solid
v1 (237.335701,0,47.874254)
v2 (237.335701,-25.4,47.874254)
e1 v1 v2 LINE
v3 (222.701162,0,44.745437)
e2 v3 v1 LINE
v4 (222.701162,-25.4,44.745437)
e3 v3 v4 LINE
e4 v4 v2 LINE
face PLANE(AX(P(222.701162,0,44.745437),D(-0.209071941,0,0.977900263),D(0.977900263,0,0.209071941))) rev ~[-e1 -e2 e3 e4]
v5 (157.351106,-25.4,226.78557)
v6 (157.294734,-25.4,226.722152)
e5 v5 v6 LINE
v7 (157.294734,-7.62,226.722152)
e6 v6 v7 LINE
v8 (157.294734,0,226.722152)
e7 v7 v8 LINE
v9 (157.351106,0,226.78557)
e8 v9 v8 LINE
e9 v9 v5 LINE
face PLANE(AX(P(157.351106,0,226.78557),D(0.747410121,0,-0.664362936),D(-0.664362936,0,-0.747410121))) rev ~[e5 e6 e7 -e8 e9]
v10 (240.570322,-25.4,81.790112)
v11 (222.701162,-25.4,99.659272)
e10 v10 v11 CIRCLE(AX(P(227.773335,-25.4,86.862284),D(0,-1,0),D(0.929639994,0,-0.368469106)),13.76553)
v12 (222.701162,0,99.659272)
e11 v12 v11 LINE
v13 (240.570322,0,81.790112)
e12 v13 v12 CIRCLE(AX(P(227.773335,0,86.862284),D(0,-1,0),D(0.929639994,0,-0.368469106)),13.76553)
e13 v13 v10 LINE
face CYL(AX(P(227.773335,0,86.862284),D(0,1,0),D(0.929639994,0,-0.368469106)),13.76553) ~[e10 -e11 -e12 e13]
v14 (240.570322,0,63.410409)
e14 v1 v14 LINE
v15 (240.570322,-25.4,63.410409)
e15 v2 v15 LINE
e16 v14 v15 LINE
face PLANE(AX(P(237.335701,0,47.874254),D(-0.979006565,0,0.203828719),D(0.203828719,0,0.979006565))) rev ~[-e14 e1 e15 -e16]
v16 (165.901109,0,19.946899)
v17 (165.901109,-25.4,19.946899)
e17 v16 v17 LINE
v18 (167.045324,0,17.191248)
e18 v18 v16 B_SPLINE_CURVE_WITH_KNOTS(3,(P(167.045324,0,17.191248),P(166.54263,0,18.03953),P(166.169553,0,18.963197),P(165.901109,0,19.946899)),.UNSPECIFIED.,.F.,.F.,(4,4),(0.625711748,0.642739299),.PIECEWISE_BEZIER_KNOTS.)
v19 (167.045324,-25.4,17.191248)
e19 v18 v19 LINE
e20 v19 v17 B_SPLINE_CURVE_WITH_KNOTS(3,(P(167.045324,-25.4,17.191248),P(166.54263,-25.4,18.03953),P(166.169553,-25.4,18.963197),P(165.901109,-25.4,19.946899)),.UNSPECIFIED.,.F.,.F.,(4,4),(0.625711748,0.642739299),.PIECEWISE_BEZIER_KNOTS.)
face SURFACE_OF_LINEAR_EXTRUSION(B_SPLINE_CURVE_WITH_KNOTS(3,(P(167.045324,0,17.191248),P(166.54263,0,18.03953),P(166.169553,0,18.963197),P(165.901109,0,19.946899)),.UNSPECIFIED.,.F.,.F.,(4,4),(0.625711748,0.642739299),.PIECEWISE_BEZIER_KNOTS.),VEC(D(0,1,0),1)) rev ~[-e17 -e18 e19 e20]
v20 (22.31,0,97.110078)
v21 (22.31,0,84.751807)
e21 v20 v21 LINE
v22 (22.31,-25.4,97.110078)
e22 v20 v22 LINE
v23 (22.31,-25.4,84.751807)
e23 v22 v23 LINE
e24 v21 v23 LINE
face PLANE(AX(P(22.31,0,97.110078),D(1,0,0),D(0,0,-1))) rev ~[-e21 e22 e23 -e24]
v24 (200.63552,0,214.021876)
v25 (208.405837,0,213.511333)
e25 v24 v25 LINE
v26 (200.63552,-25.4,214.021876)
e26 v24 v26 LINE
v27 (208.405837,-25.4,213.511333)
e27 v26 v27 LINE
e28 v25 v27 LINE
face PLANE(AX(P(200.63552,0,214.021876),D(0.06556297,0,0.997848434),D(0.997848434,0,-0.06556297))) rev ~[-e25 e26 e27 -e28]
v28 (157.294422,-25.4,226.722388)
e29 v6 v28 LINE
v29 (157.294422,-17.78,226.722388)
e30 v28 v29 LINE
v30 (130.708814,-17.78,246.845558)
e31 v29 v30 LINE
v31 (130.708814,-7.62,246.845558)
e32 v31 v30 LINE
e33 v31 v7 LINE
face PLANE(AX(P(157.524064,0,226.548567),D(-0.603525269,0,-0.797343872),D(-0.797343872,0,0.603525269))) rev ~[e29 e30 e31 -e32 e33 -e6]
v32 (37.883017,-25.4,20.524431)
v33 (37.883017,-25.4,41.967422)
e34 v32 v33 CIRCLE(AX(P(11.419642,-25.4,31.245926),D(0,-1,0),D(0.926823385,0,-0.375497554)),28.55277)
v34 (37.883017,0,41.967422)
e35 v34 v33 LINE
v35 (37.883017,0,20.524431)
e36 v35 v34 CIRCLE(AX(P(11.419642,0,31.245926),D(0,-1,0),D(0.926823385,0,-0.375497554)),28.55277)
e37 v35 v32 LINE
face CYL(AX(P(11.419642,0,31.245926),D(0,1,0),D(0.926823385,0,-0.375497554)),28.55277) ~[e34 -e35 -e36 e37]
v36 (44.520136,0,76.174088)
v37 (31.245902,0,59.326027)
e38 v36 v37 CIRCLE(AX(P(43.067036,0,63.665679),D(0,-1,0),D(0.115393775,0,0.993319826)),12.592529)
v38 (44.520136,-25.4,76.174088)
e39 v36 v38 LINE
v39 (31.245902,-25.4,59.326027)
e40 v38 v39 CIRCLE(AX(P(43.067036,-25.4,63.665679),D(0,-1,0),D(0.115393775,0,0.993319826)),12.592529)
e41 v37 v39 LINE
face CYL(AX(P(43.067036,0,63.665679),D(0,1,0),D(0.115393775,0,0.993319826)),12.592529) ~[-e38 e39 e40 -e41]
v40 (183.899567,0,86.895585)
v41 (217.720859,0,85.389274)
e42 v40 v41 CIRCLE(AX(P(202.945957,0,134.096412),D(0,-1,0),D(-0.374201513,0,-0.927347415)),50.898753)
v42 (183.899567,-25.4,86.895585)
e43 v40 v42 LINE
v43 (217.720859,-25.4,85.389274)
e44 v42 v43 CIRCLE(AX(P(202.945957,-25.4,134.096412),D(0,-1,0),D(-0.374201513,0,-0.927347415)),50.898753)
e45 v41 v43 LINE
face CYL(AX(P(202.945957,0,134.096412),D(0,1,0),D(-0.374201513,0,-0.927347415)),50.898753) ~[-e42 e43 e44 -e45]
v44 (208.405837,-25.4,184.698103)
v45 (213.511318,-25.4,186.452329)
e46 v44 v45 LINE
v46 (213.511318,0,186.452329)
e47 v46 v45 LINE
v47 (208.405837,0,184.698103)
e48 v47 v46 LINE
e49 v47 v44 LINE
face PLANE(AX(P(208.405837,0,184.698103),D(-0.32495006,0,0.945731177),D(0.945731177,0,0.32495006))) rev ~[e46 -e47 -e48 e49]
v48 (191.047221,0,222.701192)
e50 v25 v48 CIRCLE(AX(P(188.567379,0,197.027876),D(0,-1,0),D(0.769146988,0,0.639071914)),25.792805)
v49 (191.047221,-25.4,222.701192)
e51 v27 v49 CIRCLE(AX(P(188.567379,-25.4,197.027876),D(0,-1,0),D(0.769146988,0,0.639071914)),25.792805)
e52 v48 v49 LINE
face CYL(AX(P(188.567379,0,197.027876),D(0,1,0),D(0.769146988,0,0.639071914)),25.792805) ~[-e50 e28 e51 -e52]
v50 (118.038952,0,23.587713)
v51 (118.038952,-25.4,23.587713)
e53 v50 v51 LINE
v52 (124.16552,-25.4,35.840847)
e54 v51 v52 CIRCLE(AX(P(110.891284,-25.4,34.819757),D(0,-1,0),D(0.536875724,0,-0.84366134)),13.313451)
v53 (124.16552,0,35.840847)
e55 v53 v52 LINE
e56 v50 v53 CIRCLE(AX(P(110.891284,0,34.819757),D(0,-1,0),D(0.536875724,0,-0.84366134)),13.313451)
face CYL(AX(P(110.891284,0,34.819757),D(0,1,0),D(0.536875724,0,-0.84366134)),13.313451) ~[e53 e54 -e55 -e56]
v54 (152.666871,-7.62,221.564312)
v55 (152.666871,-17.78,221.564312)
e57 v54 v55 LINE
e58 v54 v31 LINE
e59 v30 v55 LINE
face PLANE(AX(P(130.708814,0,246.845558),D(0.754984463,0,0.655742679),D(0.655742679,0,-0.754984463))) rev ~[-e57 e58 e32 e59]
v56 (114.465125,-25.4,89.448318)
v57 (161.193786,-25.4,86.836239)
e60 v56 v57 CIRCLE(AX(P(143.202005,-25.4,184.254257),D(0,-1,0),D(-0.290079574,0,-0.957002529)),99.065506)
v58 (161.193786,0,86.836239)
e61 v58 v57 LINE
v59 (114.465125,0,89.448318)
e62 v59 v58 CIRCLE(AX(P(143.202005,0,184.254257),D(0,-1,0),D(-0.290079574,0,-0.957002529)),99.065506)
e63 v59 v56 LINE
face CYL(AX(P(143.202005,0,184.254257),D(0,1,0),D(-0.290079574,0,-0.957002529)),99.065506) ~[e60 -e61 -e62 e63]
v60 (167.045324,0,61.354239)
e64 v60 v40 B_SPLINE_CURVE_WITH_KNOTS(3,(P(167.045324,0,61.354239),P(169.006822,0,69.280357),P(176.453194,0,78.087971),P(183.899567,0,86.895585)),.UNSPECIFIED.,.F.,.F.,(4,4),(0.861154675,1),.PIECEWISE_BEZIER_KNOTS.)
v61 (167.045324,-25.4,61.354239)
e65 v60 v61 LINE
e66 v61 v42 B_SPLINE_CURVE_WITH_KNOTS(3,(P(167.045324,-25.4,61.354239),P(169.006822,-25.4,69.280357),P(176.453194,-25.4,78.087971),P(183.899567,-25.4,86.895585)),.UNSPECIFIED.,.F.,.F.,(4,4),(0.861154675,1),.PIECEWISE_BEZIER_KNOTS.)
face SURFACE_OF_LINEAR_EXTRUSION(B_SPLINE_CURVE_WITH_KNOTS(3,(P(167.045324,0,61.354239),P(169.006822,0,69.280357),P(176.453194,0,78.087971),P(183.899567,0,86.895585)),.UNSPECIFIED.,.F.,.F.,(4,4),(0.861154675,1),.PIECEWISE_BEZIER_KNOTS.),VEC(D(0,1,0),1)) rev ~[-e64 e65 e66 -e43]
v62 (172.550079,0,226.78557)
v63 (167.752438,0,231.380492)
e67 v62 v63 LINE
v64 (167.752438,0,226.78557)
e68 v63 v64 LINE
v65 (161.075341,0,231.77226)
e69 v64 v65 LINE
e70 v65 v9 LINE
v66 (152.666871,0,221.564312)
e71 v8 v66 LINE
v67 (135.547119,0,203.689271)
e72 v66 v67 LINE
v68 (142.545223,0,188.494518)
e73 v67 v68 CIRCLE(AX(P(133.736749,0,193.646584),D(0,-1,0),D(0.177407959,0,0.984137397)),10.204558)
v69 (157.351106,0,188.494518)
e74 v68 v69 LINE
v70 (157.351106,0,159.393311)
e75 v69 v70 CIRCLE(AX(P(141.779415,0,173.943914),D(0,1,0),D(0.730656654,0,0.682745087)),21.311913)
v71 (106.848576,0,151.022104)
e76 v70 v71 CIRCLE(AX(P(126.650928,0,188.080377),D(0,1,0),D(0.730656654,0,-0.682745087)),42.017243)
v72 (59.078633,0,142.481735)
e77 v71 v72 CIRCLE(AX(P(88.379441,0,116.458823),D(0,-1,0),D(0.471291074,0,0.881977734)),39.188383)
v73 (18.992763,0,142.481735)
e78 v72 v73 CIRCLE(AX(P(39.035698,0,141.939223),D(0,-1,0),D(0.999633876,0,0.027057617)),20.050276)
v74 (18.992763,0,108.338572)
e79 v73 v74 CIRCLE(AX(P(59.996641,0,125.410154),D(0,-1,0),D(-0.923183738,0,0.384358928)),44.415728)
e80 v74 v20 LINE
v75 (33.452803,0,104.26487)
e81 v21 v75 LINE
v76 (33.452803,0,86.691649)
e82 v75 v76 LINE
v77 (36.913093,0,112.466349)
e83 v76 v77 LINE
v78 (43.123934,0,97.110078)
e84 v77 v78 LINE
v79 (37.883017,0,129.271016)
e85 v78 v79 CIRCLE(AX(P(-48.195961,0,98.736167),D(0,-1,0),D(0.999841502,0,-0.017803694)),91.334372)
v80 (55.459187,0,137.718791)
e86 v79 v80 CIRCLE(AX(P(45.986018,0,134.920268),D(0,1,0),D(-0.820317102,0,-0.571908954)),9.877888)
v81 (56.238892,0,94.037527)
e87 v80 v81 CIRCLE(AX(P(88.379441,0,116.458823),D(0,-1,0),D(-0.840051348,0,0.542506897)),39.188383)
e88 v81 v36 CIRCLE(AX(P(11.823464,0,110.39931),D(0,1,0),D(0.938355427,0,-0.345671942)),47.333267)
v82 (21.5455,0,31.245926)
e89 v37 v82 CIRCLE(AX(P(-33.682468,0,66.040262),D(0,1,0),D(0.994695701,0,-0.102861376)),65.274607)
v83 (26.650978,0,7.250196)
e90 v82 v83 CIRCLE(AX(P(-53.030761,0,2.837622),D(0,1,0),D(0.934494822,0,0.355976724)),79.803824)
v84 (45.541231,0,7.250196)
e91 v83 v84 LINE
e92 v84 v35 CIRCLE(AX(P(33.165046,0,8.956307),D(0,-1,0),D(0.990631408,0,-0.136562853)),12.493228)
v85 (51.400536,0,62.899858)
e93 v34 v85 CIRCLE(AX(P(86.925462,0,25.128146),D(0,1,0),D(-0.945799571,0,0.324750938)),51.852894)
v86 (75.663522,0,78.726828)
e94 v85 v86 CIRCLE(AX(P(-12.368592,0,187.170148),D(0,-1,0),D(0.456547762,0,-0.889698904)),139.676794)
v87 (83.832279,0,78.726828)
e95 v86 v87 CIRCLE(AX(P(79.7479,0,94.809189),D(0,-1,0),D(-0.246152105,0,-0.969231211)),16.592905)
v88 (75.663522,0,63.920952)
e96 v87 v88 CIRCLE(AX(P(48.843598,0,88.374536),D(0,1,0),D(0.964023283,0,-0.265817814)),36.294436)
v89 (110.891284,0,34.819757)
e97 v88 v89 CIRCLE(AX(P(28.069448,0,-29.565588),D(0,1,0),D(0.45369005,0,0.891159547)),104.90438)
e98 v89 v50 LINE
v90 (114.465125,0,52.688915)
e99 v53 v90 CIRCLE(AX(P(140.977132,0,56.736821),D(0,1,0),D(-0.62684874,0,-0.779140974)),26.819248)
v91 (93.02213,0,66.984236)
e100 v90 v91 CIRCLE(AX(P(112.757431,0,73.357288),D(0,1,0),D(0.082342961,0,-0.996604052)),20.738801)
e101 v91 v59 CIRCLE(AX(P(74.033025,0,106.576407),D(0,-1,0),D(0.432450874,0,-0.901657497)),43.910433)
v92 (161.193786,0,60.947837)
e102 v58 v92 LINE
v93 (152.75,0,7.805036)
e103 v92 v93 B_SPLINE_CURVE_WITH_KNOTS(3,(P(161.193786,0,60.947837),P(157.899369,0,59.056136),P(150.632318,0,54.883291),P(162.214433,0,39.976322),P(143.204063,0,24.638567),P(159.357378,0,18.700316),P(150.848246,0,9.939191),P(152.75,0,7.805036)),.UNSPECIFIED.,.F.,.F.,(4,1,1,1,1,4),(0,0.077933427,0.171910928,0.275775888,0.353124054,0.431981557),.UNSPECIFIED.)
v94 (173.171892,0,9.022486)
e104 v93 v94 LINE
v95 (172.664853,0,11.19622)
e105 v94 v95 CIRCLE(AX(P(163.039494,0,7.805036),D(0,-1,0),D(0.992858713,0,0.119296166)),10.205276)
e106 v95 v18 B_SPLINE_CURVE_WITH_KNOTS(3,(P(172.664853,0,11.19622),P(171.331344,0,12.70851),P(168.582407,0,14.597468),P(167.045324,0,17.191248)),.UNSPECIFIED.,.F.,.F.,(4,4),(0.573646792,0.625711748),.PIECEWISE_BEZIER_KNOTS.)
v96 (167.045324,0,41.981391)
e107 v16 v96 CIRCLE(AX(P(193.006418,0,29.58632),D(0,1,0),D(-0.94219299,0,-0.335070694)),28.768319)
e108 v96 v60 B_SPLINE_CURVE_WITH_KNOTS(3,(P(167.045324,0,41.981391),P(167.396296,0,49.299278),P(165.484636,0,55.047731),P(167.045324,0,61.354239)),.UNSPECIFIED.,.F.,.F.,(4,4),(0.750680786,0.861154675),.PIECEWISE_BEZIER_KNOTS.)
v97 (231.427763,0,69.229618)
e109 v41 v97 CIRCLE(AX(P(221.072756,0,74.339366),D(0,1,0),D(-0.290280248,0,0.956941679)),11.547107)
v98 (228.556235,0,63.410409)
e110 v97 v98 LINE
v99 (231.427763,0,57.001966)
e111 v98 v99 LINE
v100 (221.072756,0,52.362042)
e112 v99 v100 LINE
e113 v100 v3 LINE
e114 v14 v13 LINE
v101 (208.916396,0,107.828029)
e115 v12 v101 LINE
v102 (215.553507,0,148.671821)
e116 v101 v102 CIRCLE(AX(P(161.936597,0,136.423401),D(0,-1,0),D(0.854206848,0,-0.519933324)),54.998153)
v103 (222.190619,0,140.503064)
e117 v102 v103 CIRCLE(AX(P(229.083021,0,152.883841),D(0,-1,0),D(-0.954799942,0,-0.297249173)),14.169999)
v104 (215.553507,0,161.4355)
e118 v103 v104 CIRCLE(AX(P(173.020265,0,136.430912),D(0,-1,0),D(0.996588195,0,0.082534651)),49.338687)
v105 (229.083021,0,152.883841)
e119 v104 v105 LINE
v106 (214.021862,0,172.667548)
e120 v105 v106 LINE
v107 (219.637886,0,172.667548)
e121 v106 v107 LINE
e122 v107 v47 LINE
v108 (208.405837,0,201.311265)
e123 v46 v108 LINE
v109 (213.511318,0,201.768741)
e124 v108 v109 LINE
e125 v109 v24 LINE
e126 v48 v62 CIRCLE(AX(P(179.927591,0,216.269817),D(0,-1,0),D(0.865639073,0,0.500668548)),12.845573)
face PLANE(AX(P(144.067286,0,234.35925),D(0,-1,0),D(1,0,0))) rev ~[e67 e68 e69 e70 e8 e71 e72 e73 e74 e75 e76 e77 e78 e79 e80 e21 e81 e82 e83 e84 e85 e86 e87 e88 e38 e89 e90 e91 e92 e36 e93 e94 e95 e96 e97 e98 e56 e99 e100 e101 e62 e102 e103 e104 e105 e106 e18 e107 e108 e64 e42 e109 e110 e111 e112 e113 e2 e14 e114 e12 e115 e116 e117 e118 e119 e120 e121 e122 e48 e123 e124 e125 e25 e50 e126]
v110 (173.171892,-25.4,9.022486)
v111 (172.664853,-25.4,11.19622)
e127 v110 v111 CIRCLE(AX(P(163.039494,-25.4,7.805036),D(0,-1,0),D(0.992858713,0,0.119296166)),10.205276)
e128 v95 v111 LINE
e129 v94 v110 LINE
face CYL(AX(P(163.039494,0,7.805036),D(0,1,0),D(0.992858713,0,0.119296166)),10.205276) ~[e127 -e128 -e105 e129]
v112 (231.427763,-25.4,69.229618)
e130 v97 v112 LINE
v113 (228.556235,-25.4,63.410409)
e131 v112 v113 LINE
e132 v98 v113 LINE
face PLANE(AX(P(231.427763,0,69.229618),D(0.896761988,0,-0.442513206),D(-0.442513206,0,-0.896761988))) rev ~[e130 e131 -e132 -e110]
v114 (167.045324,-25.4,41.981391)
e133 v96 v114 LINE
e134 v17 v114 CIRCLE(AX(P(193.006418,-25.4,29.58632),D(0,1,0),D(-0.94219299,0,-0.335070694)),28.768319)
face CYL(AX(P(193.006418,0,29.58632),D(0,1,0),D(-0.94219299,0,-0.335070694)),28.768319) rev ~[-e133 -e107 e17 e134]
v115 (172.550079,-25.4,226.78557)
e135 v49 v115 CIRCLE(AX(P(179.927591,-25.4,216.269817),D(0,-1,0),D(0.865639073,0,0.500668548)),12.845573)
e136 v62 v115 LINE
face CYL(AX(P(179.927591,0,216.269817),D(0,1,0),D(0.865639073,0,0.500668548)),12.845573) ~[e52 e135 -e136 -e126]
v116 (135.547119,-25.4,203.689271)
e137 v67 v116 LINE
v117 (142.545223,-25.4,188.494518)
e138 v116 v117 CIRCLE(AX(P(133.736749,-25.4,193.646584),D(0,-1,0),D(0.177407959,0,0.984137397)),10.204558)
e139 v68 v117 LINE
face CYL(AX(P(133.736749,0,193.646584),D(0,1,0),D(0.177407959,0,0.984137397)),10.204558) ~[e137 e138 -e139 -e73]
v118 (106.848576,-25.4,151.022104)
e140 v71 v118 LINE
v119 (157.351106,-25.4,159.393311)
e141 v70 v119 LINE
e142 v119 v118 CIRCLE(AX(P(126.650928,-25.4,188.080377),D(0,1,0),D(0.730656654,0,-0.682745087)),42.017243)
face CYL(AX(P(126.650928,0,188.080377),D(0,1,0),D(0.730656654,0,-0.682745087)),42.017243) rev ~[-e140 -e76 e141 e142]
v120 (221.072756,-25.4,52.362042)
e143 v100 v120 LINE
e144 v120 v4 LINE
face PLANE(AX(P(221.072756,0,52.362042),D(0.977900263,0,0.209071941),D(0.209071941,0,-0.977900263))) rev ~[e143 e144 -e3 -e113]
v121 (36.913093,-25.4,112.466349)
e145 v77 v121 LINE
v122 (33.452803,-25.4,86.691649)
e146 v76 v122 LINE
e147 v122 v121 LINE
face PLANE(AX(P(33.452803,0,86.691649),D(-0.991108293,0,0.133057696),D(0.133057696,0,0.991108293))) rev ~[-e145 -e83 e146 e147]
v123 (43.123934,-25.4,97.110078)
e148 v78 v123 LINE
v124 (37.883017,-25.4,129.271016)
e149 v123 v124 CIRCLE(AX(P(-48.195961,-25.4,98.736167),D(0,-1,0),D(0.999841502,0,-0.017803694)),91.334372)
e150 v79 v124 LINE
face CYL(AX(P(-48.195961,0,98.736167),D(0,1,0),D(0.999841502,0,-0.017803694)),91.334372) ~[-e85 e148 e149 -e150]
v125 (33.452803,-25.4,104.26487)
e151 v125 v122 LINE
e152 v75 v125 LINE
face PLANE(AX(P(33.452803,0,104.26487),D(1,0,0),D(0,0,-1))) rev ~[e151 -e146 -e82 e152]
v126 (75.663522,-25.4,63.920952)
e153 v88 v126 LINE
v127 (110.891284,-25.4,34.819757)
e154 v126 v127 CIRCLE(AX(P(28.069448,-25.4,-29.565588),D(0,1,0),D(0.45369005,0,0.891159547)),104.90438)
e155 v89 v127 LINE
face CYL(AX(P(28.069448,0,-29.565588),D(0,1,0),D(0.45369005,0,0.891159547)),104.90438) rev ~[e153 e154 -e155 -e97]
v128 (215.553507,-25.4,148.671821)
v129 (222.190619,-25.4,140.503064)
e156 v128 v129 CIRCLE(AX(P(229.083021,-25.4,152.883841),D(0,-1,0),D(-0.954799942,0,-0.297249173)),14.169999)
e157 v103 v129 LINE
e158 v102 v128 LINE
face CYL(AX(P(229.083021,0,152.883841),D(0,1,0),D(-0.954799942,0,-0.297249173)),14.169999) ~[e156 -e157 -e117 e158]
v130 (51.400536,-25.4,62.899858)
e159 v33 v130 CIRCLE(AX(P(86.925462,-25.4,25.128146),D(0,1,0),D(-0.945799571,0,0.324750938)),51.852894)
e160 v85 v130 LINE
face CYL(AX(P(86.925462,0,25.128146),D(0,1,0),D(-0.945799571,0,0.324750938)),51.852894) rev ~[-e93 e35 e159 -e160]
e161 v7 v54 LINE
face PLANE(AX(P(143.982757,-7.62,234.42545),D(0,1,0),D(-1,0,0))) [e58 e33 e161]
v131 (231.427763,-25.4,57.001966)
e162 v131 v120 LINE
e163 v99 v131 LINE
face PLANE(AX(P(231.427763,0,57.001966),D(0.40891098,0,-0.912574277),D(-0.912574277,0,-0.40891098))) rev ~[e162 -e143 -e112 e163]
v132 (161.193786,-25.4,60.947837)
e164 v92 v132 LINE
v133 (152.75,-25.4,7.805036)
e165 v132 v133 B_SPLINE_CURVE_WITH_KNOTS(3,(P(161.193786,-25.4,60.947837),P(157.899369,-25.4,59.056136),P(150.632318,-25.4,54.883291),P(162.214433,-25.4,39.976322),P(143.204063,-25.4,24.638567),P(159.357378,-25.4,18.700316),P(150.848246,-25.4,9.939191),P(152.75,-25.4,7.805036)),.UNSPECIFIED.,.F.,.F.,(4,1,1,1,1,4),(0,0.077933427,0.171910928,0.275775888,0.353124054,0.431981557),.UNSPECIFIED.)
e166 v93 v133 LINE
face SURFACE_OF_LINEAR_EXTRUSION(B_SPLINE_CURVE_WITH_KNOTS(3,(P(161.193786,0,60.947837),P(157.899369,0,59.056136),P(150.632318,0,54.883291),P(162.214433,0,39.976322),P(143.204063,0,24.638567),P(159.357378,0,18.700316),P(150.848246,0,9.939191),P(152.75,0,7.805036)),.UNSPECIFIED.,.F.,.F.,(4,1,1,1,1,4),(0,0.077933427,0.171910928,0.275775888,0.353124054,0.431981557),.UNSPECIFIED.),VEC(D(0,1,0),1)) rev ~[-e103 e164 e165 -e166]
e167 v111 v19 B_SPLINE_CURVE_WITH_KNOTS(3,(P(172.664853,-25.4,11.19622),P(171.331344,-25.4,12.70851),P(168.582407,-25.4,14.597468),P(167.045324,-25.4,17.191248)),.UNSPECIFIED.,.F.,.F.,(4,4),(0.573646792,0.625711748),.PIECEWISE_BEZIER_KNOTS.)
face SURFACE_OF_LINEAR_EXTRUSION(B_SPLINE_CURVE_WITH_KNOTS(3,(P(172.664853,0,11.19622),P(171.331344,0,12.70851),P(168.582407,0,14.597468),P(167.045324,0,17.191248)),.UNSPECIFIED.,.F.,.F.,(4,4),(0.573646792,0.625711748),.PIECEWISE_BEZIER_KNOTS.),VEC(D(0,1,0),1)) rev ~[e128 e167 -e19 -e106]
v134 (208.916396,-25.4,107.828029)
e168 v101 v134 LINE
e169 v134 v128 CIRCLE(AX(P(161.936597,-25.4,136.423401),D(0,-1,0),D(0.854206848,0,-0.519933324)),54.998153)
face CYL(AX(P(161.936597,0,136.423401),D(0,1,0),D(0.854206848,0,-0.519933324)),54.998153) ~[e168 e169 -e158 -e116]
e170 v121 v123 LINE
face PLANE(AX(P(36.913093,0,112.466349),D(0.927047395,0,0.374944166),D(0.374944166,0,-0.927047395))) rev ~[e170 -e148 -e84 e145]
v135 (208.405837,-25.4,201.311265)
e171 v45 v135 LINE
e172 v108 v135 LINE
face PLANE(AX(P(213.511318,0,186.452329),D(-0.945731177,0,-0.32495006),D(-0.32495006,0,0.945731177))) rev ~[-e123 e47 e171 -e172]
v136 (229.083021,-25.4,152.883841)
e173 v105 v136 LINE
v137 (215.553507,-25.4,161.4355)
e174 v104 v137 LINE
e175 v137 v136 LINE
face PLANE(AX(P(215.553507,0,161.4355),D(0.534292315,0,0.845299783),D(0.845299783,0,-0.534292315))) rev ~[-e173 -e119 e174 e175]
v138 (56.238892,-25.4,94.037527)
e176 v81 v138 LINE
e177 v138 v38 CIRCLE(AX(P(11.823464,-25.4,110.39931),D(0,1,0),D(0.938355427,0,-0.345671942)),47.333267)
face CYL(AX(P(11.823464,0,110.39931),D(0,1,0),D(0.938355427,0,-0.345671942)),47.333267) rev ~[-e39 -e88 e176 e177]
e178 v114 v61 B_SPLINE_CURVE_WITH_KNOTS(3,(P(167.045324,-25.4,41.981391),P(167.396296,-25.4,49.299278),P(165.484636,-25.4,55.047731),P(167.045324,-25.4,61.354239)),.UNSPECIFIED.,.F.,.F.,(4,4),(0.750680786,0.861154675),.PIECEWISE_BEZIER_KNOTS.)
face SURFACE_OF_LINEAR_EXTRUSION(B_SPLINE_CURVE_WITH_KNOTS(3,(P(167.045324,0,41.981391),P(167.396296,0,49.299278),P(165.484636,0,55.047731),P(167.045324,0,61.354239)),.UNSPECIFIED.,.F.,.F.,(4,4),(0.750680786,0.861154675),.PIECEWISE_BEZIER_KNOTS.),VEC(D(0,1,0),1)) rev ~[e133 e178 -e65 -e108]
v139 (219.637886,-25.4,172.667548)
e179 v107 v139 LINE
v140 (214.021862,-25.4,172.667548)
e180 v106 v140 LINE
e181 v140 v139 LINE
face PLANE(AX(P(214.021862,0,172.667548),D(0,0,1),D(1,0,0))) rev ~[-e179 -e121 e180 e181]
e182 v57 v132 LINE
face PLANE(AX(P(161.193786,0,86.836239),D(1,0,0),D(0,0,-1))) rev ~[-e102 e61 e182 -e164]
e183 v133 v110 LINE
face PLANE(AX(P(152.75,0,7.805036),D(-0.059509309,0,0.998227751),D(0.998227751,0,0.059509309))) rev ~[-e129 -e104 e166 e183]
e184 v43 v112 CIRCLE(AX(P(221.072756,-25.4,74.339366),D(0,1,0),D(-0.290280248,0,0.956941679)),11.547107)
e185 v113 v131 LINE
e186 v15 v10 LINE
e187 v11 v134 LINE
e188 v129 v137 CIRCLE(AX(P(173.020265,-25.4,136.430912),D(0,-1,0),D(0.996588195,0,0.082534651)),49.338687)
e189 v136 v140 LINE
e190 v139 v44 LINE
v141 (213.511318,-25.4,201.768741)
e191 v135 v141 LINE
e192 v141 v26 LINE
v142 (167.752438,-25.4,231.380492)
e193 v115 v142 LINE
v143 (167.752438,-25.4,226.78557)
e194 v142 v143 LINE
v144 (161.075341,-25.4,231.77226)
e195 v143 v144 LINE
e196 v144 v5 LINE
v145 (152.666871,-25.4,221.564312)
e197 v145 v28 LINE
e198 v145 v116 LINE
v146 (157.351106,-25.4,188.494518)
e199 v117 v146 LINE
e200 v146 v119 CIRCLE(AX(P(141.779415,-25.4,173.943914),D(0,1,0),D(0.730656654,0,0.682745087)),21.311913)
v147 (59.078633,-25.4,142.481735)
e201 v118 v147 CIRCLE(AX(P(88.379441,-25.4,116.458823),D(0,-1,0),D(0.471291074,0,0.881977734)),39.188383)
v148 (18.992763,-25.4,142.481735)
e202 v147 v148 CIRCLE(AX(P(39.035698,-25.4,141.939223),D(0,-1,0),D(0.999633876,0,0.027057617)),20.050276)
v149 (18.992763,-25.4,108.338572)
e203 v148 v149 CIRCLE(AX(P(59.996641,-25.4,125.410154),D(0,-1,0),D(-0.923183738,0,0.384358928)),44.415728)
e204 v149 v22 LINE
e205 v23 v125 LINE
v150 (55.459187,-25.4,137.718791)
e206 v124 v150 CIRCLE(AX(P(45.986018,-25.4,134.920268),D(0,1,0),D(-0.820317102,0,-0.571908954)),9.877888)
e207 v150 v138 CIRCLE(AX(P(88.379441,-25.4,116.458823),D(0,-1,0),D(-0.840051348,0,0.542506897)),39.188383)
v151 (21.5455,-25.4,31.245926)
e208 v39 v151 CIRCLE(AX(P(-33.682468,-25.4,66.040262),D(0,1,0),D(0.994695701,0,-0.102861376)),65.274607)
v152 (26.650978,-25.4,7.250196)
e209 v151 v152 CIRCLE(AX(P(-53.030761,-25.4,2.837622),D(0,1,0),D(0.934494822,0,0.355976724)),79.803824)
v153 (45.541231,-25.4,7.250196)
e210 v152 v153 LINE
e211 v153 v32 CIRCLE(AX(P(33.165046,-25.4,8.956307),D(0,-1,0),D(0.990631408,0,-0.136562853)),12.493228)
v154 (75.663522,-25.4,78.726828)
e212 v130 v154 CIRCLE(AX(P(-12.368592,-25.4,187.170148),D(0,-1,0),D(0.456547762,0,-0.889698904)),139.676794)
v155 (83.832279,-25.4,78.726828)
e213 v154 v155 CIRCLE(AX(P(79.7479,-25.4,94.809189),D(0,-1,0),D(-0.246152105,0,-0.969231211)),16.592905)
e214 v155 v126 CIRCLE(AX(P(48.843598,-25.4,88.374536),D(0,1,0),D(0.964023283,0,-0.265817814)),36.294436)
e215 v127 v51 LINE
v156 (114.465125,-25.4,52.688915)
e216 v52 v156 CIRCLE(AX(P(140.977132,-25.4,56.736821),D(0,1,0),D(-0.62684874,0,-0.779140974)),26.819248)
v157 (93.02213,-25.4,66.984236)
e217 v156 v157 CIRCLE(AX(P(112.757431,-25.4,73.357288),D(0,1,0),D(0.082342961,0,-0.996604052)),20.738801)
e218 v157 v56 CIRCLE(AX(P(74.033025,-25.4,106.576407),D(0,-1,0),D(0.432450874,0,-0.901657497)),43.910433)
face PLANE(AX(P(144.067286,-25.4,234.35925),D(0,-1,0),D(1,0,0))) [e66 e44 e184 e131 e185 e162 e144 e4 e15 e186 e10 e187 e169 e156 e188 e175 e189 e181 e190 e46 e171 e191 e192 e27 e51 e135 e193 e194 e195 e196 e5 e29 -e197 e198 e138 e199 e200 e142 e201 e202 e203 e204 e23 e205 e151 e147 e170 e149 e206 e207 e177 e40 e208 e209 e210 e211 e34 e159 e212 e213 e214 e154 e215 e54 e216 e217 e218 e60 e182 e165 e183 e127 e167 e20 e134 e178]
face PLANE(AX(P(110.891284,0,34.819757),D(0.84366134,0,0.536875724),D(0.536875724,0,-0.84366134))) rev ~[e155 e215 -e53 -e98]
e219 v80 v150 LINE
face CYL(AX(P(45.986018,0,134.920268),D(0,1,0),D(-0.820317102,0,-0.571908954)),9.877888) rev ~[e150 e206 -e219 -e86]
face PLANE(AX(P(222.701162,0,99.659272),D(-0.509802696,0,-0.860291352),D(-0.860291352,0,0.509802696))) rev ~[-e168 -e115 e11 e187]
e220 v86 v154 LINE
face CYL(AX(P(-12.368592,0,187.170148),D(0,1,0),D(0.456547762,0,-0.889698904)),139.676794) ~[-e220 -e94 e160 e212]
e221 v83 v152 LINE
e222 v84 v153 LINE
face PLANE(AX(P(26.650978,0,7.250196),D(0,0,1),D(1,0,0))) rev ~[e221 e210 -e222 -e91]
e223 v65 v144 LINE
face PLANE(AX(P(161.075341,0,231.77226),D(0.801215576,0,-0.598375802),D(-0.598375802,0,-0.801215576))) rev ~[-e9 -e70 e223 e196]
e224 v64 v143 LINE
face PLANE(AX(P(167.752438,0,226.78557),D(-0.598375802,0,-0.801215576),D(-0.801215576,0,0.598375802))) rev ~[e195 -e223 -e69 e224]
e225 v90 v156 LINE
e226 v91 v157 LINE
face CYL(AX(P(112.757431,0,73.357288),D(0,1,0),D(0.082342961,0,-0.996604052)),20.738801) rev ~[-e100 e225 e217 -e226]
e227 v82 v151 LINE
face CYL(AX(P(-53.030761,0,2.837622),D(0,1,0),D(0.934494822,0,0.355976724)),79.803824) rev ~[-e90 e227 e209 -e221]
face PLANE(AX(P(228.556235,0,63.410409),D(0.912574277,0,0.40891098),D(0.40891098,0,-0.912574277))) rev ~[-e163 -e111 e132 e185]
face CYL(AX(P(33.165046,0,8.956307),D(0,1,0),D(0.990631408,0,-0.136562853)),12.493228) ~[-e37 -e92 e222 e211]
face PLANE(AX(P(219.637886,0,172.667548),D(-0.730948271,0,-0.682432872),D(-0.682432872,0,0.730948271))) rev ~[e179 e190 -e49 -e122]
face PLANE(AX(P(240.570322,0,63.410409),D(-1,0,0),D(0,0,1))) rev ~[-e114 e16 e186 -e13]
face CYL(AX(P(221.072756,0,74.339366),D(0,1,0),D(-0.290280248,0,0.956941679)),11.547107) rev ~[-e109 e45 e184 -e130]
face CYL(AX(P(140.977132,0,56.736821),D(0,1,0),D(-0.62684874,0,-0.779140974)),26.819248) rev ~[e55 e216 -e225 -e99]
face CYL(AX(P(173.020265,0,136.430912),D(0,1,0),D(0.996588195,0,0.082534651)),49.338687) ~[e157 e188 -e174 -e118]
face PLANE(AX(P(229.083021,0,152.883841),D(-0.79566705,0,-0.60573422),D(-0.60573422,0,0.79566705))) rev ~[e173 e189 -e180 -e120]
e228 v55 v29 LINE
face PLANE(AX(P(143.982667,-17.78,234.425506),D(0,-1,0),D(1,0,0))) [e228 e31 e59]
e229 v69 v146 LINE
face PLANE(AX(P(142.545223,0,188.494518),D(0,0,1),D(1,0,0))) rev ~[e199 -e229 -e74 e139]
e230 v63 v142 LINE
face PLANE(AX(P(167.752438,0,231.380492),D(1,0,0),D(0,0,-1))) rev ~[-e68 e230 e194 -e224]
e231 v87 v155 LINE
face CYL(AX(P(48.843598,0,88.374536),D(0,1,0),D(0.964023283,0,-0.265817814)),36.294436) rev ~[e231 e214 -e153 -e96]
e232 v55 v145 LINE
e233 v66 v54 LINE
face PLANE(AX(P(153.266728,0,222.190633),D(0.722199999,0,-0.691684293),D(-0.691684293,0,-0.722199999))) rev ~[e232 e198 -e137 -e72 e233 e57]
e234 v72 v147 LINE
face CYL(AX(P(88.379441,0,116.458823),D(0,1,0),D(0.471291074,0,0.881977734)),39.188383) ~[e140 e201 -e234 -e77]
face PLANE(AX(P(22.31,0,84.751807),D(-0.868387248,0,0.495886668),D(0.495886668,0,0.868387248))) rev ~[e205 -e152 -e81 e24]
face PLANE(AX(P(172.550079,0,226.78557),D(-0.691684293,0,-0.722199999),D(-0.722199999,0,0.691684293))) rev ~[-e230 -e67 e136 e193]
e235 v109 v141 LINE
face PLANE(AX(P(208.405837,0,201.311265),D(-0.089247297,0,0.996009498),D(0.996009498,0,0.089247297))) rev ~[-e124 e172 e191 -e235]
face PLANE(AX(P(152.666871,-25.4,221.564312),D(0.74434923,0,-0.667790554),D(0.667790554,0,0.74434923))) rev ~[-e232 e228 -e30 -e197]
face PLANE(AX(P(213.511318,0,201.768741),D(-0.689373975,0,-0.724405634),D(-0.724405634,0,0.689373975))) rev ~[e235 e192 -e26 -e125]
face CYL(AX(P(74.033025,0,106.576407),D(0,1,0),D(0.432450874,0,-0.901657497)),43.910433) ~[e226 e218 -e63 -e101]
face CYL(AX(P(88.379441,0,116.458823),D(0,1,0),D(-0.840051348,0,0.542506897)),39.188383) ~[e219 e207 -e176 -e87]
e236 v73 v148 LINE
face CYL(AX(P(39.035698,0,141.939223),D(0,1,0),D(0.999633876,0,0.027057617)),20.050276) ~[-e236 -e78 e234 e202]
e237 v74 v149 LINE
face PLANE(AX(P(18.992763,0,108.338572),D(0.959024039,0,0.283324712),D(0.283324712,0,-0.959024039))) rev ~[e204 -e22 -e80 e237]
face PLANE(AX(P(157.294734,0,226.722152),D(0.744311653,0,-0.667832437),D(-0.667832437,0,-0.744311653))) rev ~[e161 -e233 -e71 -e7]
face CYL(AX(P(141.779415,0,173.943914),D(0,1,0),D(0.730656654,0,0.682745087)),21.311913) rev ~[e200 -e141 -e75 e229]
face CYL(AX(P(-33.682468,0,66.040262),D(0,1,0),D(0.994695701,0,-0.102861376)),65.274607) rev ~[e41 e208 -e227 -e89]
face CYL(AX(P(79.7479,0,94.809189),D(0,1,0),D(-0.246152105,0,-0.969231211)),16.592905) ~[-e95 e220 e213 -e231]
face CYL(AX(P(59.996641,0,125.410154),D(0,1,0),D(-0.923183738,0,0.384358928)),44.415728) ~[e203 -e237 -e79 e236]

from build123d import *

# Parameters (mm, degrees)
F1_DEPTH = 25.4
F3_DEPTH = 25.4
F5_DEPTH = 7.62
F7_DEPTH = 7.62


with BuildPart() as f1:
    # F0 (on Front) → F1 (new body)
    with BuildSketch(Plane.XZ):
        with BuildLine():
            ThreePointArc((55.4591871163, 137.7187907169), (57.1778936646, 140.1694279188), (59.0786326768, 142.4817354462))
            ThreePointArc((59.0786326768, 142.4817354462), (39.0356978447, 161.9894984881), (18.9927630126, 142.4817354462))
            ThreePointArc((18.9927630126, 142.4817354462), (15.5809128086, 125.4101537656), (18.9927630126, 108.3385720849))
            Line((18.9927630126, 108.3385720849), (22.309999913, 97.1100777388))
            Line((22.309999913, 97.1100777388), (22.309999913, 84.7518071532))
            Line((22.309999913, 84.7518071532), (33.4528027138, 104.264870286))
            Line((33.4528027138, 104.264870286), (33.4528027138, 86.6916491587))
            Line((33.4528027138, 86.6916491587), (36.9130928491, 112.466349486))
            Line((36.9130928491, 112.466349486), (43.123934418, 97.1100777388))
            ThreePointArc((43.123934418, 97.1100777388), (41.9493193566, 113.4261599819), (37.8830172122, 129.2710155249))
            ThreePointArc((37.8830172122, 129.2710155249), (41.7069327363, 143.8231946906), (55.4591871163, 137.7187907169))
        make_face()
        with BuildLine():
            Line((161.0753406305, 231.77226012), (157.3511064053, 226.7855703831))
            Line((157.3511064053, 226.7855703831), (153.2667279243, 222.1906334162))
            Line((153.2667279243, 222.1906334162), (135.5471188815, 203.6892712114))
            ThreePointArc((135.5471188815, 203.6892712114), (124.4679795229, 189.3777542773), (142.5452232361, 188.4945183992))
            Line((142.5452232361, 188.4945183992), (157.3511064053, 188.4945183992))
            ThreePointArc((157.3511064053, 188.4945183992), (163.0913283676, 173.9439144731), (157.3511064053, 159.3933105469))
            ThreePointArc((157.3511064053, 159.3933105469), (133.5218764448, 146.628732852), (106.8485764131, 151.0221039559))
            ThreePointArc((106.8485764131, 151.0221039559), (81.4826477265, 155.0355463169), (59.0786326768, 142.4817354462))
            ThreePointArc((59.0786326768, 142.4817354462), (57.1778936646, 140.1694279188), (55.4591871163, 137.7187907169))
            ThreePointArc((55.4591871163, 137.7187907169), (49.1972996165, 115.7594263547), (56.2388920861, 94.0375274104))
            ThreePointArc((56.2388920861, 94.0375274104), (51.4005357949, 84.435997918), (44.5201359689, 76.1740878224))
            ThreePointArc((44.5201359689, 76.1740878224), (33.1757105593, 71.4588467738), (31.2459021807, 59.3260265887))
            ThreePointArc((31.2459021807, 59.3260265887), (28.0144474885, 44.7267728634), (21.5454995632, 31.2459263951))
            ThreePointArc((21.5454995632, 31.2459263951), (25.0258299967, 19.4454210796), (26.6509782523, 7.2501958348))
            Line((26.6509782523, 7.2501958348), (45.5412305892, 7.2501958348))
            ThreePointArc((45.5412305892, 7.2501958348), (43.9865002742, 15.1994537749), (37.8830172122, 20.52443102))
            ThreePointArc((37.8830172122, 20.52443102), (39.9724122876, 31.2459263951), (37.8830172122, 41.9674217701))
            ThreePointArc((37.8830172122, 41.9674217701), (43.3657124777, 53.2576823746), (51.4005357949, 62.8998577595))
            ThreePointArc((51.4005357949, 62.8998577595), (63.9434482796, 70.1826306752), (75.6635218859, 78.7268280983))
            ThreePointArc((75.6635218859, 78.7268280983), (79.7479003668, 78.2162845135), (83.8322788477, 78.7268280983))
            ThreePointArc((83.8322788477, 78.7268280983), (80.62219761, 70.8415194676), (75.6635218859, 63.9209523797))
            ThreePointArc((75.6635218859, 63.9209523797), (94.8811032097, 51.3116760169), (110.8912838002, 34.8197567898))
            Line((110.8912838002, 34.8197567898), (118.0389523506, 23.5877130181))
            ThreePointArc((118.0389523506, 23.5877130181), (122.7991958663, 28.8657998516), (124.165520072, 35.8408465981))
            ThreePointArc((124.165520072, 35.8408465981), (117.7349645729, 43.3549786498), (114.4651249051, 52.6889152825))
            ThreePointArc((114.4651249051, 52.6889152825), (101.2536184714, 56.1015596962), (93.0221304297, 66.9842362404))
            ThreePointArc((93.0221304297, 66.9842362404), (105.7958752022, 76.2573128263), (114.4651249051, 89.4483178854))
            ThreePointArc((114.4651249051, 89.4483178854), (137.6729881459, 85.3431639936), (161.1937859731, 86.8362394266))
            Line((161.1937859731, 86.8362394266), (161.1937859731, 60.947837063))
            add(Edge.make_bspline(
                [(161.1937859731, 60.947837063), (157.8993693687, 59.0561358776), (150.6323180509, 54.8832909577), (162.2144334117, 39.9763215602), (143.2040633117, 24.6385665246), (159.3573781955, 18.7003155427), (150.8482458466, 9.9391907933), (152.7499995265, 7.8050355296)],
                knots=[0, 0, 0, 0, 0.0779334272, 0.1719109278, 0.2757758884, 0.3531240541, 0.4319815568, 0.4319815568, 0.4319815568, 0.4319815568], degree=3))
            Line((152.7499995265, 7.8050355296), (173.171891931, 9.0224858617))
            ThreePointArc((173.171891931, 9.0224858617), (172.9779809567, 10.1232568284), (172.664853356, 11.1962196856))
            add(Edge.make_bspline(
                [(172.664853356, 11.1962196856), (171.3313436819, 12.7085104711), (168.5824067748, 14.597468285), (167.0453242097, 17.1912484114)],
                knots=[0.5736467919, 0.5736467919, 0.5736467919, 0.5736467919, 0.6257117477, 0.6257117477, 0.6257117477, 0.6257117477], degree=3))
            add(Edge.make_bspline(
                [(167.0453242097, 17.1912484114), (166.5426299969, 18.0395296218), (166.169553332, 18.9631972351), (165.9011092746, 19.9468993754)],
                knots=[0.6257117477, 0.6257117477, 0.6257117477, 0.6257117477, 0.6427392989, 0.6427392989, 0.6427392989, 0.6427392989], degree=3))
            ThreePointArc((165.9011092746, 19.9468993754), (164.2768081704, 31.0782012829), (167.0453242097, 41.9813914203))
            add(Edge.make_bspline(
                [(167.0453242097, 41.9813914203), (167.3962963394, 49.2992780507), (165.4846355858, 55.0477309675), (167.0453242097, 61.3542387283)],
                knots=[0.7506807864, 0.7506807864, 0.7506807864, 0.7506807864, 0.8611546748, 0.8611546748, 0.8611546748, 0.8611546748], degree=3))
            add(Edge.make_bspline(
                [(167.0453242097, 61.3542387283), (169.0068222846, 69.2803571375), (176.4531944079, 78.0879710988), (183.8995665312, 86.8955850601)],
                knots=[0.8611546748, 0.8611546748, 0.8611546748, 0.8611546748, 1, 1, 1, 1], degree=3))
            ThreePointArc((183.8995665312, 86.8955850601), (200.6813055662, 83.248064902), (217.7208593273, 85.3892738977))
            ThreePointArc((217.7208593273, 85.3892738977), (229.8786920932, 81.8087152157), (231.4277632013, 69.2296183983))
            Line((231.4277632013, 69.2296183983), (228.5562352695, 63.4104087949))
            Line((228.5562352695, 63.4104087949), (231.4277632013, 57.001966241))
            Line((231.4277632013, 57.001966241), (221.0727564471, 52.3620415043))
            Line((221.0727564471, 52.3620415043), (222.7011620998, 44.7454368664))
            Line((222.7011620998, 44.7454368664), (237.3357014598, 47.8742544631))
            Line((237.3357014598, 47.8742544631), (240.5703216791, 63.4104087949))
            Line((240.5703216791, 63.4104087949), (240.5703216791, 81.790111959))
            ThreePointArc((240.5703216791, 81.790111959), (237.5070340931, 96.5959839523), (222.7011620998, 99.6592715383))
            Line((222.7011620998, 99.6592715383), (208.9163959026, 107.8280285001))
            ThreePointArc((208.9163959026, 107.8280285001), (216.2226754166, 127.6019199845), (215.5535072088, 148.6718207598))
            ThreePointArc((215.5535072088, 148.6718207598), (218.0854842896, 143.9483475476), (222.190618515, 140.503063798))
            ThreePointArc((222.190618515, 140.503063798), (220.0514151702, 151.3432226251), (215.5535072088, 161.4354997873))
            Line((215.5535072088, 161.4354997873), (229.0830209851, 152.8838410974))
            Line((229.0830209851, 152.8838410974), (214.0218615532, 172.6675480604))
            Line((214.0218615532, 172.6675480604), (219.6378856897, 172.6675480604))
            Line((219.6378856897, 172.6675480604), (208.4058374166, 184.6981031667))
            Line((208.4058374166, 184.6981031667), (213.5113179684, 186.4523291588))
            Line((213.5113179684, 186.4523291588), (208.4058374166, 201.3112651118))
            Line((208.4058374166, 201.3112651118), (213.5113179684, 201.7687410116))
            Line((213.5113179684, 201.7687410116), (200.6355195315, 214.0218764544))
            Line((200.6355195315, 214.0218764544), (208.4058374166, 213.5113328695))
            ThreePointArc((208.4058374166, 213.5113328695), (200.6355195315, 219.8232430535), (191.0472214222, 222.7011919022))
            ThreePointArc((191.0472214222, 222.7011919022), (182.6973201136, 228.8132361759), (172.5500786904, 226.7855703831))
            Line((172.5500786904, 226.7855703831), (167.7524379956, 231.3804924488))
            Line((167.7524379956, 231.3804924488), (167.7524379956, 226.7855703831))
            Line((167.7524379956, 226.7855703831), (161.0753406305, 231.77226012))
        make_face()
    extrude(amount=F1_DEPTH)

    # F2 (on Front) → F3 (join)
    with BuildSketch(Plane.XZ):
        Polygon((130.7088136673, 246.8455582857), (152.7369320393, 221.4836478233), (157.5240641832, 226.5485674143), align=None)
    extrude(amount=F3_DEPTH)

    # F4 (on face) → F5 (cut)
    with BuildSketch(Plane(origin=(0, 0, 0), x_dir=(-1, 0, 0), z_dir=(0, 1, 0))):
        Polygon((-157.2947343563, 226.7221516738), (-152.6668710263, 221.5643120502), (-130.7088136673, 246.8455582857), align=None)
    extrude(amount=-F5_DEPTH, mode=Mode.SUBTRACT)

    # F6 (on face) → F7 (cut)
    with BuildSketch(Plane.XZ.offset(25.4)):
        Polygon((130.7088136673, 246.8455582857), (152.6668710263, 221.5643120502), (157.2944223706, 226.7223878219), align=None)
    extrude(amount=-F7_DEPTH, mode=Mode.SUBTRACT)


solid = f1.part
